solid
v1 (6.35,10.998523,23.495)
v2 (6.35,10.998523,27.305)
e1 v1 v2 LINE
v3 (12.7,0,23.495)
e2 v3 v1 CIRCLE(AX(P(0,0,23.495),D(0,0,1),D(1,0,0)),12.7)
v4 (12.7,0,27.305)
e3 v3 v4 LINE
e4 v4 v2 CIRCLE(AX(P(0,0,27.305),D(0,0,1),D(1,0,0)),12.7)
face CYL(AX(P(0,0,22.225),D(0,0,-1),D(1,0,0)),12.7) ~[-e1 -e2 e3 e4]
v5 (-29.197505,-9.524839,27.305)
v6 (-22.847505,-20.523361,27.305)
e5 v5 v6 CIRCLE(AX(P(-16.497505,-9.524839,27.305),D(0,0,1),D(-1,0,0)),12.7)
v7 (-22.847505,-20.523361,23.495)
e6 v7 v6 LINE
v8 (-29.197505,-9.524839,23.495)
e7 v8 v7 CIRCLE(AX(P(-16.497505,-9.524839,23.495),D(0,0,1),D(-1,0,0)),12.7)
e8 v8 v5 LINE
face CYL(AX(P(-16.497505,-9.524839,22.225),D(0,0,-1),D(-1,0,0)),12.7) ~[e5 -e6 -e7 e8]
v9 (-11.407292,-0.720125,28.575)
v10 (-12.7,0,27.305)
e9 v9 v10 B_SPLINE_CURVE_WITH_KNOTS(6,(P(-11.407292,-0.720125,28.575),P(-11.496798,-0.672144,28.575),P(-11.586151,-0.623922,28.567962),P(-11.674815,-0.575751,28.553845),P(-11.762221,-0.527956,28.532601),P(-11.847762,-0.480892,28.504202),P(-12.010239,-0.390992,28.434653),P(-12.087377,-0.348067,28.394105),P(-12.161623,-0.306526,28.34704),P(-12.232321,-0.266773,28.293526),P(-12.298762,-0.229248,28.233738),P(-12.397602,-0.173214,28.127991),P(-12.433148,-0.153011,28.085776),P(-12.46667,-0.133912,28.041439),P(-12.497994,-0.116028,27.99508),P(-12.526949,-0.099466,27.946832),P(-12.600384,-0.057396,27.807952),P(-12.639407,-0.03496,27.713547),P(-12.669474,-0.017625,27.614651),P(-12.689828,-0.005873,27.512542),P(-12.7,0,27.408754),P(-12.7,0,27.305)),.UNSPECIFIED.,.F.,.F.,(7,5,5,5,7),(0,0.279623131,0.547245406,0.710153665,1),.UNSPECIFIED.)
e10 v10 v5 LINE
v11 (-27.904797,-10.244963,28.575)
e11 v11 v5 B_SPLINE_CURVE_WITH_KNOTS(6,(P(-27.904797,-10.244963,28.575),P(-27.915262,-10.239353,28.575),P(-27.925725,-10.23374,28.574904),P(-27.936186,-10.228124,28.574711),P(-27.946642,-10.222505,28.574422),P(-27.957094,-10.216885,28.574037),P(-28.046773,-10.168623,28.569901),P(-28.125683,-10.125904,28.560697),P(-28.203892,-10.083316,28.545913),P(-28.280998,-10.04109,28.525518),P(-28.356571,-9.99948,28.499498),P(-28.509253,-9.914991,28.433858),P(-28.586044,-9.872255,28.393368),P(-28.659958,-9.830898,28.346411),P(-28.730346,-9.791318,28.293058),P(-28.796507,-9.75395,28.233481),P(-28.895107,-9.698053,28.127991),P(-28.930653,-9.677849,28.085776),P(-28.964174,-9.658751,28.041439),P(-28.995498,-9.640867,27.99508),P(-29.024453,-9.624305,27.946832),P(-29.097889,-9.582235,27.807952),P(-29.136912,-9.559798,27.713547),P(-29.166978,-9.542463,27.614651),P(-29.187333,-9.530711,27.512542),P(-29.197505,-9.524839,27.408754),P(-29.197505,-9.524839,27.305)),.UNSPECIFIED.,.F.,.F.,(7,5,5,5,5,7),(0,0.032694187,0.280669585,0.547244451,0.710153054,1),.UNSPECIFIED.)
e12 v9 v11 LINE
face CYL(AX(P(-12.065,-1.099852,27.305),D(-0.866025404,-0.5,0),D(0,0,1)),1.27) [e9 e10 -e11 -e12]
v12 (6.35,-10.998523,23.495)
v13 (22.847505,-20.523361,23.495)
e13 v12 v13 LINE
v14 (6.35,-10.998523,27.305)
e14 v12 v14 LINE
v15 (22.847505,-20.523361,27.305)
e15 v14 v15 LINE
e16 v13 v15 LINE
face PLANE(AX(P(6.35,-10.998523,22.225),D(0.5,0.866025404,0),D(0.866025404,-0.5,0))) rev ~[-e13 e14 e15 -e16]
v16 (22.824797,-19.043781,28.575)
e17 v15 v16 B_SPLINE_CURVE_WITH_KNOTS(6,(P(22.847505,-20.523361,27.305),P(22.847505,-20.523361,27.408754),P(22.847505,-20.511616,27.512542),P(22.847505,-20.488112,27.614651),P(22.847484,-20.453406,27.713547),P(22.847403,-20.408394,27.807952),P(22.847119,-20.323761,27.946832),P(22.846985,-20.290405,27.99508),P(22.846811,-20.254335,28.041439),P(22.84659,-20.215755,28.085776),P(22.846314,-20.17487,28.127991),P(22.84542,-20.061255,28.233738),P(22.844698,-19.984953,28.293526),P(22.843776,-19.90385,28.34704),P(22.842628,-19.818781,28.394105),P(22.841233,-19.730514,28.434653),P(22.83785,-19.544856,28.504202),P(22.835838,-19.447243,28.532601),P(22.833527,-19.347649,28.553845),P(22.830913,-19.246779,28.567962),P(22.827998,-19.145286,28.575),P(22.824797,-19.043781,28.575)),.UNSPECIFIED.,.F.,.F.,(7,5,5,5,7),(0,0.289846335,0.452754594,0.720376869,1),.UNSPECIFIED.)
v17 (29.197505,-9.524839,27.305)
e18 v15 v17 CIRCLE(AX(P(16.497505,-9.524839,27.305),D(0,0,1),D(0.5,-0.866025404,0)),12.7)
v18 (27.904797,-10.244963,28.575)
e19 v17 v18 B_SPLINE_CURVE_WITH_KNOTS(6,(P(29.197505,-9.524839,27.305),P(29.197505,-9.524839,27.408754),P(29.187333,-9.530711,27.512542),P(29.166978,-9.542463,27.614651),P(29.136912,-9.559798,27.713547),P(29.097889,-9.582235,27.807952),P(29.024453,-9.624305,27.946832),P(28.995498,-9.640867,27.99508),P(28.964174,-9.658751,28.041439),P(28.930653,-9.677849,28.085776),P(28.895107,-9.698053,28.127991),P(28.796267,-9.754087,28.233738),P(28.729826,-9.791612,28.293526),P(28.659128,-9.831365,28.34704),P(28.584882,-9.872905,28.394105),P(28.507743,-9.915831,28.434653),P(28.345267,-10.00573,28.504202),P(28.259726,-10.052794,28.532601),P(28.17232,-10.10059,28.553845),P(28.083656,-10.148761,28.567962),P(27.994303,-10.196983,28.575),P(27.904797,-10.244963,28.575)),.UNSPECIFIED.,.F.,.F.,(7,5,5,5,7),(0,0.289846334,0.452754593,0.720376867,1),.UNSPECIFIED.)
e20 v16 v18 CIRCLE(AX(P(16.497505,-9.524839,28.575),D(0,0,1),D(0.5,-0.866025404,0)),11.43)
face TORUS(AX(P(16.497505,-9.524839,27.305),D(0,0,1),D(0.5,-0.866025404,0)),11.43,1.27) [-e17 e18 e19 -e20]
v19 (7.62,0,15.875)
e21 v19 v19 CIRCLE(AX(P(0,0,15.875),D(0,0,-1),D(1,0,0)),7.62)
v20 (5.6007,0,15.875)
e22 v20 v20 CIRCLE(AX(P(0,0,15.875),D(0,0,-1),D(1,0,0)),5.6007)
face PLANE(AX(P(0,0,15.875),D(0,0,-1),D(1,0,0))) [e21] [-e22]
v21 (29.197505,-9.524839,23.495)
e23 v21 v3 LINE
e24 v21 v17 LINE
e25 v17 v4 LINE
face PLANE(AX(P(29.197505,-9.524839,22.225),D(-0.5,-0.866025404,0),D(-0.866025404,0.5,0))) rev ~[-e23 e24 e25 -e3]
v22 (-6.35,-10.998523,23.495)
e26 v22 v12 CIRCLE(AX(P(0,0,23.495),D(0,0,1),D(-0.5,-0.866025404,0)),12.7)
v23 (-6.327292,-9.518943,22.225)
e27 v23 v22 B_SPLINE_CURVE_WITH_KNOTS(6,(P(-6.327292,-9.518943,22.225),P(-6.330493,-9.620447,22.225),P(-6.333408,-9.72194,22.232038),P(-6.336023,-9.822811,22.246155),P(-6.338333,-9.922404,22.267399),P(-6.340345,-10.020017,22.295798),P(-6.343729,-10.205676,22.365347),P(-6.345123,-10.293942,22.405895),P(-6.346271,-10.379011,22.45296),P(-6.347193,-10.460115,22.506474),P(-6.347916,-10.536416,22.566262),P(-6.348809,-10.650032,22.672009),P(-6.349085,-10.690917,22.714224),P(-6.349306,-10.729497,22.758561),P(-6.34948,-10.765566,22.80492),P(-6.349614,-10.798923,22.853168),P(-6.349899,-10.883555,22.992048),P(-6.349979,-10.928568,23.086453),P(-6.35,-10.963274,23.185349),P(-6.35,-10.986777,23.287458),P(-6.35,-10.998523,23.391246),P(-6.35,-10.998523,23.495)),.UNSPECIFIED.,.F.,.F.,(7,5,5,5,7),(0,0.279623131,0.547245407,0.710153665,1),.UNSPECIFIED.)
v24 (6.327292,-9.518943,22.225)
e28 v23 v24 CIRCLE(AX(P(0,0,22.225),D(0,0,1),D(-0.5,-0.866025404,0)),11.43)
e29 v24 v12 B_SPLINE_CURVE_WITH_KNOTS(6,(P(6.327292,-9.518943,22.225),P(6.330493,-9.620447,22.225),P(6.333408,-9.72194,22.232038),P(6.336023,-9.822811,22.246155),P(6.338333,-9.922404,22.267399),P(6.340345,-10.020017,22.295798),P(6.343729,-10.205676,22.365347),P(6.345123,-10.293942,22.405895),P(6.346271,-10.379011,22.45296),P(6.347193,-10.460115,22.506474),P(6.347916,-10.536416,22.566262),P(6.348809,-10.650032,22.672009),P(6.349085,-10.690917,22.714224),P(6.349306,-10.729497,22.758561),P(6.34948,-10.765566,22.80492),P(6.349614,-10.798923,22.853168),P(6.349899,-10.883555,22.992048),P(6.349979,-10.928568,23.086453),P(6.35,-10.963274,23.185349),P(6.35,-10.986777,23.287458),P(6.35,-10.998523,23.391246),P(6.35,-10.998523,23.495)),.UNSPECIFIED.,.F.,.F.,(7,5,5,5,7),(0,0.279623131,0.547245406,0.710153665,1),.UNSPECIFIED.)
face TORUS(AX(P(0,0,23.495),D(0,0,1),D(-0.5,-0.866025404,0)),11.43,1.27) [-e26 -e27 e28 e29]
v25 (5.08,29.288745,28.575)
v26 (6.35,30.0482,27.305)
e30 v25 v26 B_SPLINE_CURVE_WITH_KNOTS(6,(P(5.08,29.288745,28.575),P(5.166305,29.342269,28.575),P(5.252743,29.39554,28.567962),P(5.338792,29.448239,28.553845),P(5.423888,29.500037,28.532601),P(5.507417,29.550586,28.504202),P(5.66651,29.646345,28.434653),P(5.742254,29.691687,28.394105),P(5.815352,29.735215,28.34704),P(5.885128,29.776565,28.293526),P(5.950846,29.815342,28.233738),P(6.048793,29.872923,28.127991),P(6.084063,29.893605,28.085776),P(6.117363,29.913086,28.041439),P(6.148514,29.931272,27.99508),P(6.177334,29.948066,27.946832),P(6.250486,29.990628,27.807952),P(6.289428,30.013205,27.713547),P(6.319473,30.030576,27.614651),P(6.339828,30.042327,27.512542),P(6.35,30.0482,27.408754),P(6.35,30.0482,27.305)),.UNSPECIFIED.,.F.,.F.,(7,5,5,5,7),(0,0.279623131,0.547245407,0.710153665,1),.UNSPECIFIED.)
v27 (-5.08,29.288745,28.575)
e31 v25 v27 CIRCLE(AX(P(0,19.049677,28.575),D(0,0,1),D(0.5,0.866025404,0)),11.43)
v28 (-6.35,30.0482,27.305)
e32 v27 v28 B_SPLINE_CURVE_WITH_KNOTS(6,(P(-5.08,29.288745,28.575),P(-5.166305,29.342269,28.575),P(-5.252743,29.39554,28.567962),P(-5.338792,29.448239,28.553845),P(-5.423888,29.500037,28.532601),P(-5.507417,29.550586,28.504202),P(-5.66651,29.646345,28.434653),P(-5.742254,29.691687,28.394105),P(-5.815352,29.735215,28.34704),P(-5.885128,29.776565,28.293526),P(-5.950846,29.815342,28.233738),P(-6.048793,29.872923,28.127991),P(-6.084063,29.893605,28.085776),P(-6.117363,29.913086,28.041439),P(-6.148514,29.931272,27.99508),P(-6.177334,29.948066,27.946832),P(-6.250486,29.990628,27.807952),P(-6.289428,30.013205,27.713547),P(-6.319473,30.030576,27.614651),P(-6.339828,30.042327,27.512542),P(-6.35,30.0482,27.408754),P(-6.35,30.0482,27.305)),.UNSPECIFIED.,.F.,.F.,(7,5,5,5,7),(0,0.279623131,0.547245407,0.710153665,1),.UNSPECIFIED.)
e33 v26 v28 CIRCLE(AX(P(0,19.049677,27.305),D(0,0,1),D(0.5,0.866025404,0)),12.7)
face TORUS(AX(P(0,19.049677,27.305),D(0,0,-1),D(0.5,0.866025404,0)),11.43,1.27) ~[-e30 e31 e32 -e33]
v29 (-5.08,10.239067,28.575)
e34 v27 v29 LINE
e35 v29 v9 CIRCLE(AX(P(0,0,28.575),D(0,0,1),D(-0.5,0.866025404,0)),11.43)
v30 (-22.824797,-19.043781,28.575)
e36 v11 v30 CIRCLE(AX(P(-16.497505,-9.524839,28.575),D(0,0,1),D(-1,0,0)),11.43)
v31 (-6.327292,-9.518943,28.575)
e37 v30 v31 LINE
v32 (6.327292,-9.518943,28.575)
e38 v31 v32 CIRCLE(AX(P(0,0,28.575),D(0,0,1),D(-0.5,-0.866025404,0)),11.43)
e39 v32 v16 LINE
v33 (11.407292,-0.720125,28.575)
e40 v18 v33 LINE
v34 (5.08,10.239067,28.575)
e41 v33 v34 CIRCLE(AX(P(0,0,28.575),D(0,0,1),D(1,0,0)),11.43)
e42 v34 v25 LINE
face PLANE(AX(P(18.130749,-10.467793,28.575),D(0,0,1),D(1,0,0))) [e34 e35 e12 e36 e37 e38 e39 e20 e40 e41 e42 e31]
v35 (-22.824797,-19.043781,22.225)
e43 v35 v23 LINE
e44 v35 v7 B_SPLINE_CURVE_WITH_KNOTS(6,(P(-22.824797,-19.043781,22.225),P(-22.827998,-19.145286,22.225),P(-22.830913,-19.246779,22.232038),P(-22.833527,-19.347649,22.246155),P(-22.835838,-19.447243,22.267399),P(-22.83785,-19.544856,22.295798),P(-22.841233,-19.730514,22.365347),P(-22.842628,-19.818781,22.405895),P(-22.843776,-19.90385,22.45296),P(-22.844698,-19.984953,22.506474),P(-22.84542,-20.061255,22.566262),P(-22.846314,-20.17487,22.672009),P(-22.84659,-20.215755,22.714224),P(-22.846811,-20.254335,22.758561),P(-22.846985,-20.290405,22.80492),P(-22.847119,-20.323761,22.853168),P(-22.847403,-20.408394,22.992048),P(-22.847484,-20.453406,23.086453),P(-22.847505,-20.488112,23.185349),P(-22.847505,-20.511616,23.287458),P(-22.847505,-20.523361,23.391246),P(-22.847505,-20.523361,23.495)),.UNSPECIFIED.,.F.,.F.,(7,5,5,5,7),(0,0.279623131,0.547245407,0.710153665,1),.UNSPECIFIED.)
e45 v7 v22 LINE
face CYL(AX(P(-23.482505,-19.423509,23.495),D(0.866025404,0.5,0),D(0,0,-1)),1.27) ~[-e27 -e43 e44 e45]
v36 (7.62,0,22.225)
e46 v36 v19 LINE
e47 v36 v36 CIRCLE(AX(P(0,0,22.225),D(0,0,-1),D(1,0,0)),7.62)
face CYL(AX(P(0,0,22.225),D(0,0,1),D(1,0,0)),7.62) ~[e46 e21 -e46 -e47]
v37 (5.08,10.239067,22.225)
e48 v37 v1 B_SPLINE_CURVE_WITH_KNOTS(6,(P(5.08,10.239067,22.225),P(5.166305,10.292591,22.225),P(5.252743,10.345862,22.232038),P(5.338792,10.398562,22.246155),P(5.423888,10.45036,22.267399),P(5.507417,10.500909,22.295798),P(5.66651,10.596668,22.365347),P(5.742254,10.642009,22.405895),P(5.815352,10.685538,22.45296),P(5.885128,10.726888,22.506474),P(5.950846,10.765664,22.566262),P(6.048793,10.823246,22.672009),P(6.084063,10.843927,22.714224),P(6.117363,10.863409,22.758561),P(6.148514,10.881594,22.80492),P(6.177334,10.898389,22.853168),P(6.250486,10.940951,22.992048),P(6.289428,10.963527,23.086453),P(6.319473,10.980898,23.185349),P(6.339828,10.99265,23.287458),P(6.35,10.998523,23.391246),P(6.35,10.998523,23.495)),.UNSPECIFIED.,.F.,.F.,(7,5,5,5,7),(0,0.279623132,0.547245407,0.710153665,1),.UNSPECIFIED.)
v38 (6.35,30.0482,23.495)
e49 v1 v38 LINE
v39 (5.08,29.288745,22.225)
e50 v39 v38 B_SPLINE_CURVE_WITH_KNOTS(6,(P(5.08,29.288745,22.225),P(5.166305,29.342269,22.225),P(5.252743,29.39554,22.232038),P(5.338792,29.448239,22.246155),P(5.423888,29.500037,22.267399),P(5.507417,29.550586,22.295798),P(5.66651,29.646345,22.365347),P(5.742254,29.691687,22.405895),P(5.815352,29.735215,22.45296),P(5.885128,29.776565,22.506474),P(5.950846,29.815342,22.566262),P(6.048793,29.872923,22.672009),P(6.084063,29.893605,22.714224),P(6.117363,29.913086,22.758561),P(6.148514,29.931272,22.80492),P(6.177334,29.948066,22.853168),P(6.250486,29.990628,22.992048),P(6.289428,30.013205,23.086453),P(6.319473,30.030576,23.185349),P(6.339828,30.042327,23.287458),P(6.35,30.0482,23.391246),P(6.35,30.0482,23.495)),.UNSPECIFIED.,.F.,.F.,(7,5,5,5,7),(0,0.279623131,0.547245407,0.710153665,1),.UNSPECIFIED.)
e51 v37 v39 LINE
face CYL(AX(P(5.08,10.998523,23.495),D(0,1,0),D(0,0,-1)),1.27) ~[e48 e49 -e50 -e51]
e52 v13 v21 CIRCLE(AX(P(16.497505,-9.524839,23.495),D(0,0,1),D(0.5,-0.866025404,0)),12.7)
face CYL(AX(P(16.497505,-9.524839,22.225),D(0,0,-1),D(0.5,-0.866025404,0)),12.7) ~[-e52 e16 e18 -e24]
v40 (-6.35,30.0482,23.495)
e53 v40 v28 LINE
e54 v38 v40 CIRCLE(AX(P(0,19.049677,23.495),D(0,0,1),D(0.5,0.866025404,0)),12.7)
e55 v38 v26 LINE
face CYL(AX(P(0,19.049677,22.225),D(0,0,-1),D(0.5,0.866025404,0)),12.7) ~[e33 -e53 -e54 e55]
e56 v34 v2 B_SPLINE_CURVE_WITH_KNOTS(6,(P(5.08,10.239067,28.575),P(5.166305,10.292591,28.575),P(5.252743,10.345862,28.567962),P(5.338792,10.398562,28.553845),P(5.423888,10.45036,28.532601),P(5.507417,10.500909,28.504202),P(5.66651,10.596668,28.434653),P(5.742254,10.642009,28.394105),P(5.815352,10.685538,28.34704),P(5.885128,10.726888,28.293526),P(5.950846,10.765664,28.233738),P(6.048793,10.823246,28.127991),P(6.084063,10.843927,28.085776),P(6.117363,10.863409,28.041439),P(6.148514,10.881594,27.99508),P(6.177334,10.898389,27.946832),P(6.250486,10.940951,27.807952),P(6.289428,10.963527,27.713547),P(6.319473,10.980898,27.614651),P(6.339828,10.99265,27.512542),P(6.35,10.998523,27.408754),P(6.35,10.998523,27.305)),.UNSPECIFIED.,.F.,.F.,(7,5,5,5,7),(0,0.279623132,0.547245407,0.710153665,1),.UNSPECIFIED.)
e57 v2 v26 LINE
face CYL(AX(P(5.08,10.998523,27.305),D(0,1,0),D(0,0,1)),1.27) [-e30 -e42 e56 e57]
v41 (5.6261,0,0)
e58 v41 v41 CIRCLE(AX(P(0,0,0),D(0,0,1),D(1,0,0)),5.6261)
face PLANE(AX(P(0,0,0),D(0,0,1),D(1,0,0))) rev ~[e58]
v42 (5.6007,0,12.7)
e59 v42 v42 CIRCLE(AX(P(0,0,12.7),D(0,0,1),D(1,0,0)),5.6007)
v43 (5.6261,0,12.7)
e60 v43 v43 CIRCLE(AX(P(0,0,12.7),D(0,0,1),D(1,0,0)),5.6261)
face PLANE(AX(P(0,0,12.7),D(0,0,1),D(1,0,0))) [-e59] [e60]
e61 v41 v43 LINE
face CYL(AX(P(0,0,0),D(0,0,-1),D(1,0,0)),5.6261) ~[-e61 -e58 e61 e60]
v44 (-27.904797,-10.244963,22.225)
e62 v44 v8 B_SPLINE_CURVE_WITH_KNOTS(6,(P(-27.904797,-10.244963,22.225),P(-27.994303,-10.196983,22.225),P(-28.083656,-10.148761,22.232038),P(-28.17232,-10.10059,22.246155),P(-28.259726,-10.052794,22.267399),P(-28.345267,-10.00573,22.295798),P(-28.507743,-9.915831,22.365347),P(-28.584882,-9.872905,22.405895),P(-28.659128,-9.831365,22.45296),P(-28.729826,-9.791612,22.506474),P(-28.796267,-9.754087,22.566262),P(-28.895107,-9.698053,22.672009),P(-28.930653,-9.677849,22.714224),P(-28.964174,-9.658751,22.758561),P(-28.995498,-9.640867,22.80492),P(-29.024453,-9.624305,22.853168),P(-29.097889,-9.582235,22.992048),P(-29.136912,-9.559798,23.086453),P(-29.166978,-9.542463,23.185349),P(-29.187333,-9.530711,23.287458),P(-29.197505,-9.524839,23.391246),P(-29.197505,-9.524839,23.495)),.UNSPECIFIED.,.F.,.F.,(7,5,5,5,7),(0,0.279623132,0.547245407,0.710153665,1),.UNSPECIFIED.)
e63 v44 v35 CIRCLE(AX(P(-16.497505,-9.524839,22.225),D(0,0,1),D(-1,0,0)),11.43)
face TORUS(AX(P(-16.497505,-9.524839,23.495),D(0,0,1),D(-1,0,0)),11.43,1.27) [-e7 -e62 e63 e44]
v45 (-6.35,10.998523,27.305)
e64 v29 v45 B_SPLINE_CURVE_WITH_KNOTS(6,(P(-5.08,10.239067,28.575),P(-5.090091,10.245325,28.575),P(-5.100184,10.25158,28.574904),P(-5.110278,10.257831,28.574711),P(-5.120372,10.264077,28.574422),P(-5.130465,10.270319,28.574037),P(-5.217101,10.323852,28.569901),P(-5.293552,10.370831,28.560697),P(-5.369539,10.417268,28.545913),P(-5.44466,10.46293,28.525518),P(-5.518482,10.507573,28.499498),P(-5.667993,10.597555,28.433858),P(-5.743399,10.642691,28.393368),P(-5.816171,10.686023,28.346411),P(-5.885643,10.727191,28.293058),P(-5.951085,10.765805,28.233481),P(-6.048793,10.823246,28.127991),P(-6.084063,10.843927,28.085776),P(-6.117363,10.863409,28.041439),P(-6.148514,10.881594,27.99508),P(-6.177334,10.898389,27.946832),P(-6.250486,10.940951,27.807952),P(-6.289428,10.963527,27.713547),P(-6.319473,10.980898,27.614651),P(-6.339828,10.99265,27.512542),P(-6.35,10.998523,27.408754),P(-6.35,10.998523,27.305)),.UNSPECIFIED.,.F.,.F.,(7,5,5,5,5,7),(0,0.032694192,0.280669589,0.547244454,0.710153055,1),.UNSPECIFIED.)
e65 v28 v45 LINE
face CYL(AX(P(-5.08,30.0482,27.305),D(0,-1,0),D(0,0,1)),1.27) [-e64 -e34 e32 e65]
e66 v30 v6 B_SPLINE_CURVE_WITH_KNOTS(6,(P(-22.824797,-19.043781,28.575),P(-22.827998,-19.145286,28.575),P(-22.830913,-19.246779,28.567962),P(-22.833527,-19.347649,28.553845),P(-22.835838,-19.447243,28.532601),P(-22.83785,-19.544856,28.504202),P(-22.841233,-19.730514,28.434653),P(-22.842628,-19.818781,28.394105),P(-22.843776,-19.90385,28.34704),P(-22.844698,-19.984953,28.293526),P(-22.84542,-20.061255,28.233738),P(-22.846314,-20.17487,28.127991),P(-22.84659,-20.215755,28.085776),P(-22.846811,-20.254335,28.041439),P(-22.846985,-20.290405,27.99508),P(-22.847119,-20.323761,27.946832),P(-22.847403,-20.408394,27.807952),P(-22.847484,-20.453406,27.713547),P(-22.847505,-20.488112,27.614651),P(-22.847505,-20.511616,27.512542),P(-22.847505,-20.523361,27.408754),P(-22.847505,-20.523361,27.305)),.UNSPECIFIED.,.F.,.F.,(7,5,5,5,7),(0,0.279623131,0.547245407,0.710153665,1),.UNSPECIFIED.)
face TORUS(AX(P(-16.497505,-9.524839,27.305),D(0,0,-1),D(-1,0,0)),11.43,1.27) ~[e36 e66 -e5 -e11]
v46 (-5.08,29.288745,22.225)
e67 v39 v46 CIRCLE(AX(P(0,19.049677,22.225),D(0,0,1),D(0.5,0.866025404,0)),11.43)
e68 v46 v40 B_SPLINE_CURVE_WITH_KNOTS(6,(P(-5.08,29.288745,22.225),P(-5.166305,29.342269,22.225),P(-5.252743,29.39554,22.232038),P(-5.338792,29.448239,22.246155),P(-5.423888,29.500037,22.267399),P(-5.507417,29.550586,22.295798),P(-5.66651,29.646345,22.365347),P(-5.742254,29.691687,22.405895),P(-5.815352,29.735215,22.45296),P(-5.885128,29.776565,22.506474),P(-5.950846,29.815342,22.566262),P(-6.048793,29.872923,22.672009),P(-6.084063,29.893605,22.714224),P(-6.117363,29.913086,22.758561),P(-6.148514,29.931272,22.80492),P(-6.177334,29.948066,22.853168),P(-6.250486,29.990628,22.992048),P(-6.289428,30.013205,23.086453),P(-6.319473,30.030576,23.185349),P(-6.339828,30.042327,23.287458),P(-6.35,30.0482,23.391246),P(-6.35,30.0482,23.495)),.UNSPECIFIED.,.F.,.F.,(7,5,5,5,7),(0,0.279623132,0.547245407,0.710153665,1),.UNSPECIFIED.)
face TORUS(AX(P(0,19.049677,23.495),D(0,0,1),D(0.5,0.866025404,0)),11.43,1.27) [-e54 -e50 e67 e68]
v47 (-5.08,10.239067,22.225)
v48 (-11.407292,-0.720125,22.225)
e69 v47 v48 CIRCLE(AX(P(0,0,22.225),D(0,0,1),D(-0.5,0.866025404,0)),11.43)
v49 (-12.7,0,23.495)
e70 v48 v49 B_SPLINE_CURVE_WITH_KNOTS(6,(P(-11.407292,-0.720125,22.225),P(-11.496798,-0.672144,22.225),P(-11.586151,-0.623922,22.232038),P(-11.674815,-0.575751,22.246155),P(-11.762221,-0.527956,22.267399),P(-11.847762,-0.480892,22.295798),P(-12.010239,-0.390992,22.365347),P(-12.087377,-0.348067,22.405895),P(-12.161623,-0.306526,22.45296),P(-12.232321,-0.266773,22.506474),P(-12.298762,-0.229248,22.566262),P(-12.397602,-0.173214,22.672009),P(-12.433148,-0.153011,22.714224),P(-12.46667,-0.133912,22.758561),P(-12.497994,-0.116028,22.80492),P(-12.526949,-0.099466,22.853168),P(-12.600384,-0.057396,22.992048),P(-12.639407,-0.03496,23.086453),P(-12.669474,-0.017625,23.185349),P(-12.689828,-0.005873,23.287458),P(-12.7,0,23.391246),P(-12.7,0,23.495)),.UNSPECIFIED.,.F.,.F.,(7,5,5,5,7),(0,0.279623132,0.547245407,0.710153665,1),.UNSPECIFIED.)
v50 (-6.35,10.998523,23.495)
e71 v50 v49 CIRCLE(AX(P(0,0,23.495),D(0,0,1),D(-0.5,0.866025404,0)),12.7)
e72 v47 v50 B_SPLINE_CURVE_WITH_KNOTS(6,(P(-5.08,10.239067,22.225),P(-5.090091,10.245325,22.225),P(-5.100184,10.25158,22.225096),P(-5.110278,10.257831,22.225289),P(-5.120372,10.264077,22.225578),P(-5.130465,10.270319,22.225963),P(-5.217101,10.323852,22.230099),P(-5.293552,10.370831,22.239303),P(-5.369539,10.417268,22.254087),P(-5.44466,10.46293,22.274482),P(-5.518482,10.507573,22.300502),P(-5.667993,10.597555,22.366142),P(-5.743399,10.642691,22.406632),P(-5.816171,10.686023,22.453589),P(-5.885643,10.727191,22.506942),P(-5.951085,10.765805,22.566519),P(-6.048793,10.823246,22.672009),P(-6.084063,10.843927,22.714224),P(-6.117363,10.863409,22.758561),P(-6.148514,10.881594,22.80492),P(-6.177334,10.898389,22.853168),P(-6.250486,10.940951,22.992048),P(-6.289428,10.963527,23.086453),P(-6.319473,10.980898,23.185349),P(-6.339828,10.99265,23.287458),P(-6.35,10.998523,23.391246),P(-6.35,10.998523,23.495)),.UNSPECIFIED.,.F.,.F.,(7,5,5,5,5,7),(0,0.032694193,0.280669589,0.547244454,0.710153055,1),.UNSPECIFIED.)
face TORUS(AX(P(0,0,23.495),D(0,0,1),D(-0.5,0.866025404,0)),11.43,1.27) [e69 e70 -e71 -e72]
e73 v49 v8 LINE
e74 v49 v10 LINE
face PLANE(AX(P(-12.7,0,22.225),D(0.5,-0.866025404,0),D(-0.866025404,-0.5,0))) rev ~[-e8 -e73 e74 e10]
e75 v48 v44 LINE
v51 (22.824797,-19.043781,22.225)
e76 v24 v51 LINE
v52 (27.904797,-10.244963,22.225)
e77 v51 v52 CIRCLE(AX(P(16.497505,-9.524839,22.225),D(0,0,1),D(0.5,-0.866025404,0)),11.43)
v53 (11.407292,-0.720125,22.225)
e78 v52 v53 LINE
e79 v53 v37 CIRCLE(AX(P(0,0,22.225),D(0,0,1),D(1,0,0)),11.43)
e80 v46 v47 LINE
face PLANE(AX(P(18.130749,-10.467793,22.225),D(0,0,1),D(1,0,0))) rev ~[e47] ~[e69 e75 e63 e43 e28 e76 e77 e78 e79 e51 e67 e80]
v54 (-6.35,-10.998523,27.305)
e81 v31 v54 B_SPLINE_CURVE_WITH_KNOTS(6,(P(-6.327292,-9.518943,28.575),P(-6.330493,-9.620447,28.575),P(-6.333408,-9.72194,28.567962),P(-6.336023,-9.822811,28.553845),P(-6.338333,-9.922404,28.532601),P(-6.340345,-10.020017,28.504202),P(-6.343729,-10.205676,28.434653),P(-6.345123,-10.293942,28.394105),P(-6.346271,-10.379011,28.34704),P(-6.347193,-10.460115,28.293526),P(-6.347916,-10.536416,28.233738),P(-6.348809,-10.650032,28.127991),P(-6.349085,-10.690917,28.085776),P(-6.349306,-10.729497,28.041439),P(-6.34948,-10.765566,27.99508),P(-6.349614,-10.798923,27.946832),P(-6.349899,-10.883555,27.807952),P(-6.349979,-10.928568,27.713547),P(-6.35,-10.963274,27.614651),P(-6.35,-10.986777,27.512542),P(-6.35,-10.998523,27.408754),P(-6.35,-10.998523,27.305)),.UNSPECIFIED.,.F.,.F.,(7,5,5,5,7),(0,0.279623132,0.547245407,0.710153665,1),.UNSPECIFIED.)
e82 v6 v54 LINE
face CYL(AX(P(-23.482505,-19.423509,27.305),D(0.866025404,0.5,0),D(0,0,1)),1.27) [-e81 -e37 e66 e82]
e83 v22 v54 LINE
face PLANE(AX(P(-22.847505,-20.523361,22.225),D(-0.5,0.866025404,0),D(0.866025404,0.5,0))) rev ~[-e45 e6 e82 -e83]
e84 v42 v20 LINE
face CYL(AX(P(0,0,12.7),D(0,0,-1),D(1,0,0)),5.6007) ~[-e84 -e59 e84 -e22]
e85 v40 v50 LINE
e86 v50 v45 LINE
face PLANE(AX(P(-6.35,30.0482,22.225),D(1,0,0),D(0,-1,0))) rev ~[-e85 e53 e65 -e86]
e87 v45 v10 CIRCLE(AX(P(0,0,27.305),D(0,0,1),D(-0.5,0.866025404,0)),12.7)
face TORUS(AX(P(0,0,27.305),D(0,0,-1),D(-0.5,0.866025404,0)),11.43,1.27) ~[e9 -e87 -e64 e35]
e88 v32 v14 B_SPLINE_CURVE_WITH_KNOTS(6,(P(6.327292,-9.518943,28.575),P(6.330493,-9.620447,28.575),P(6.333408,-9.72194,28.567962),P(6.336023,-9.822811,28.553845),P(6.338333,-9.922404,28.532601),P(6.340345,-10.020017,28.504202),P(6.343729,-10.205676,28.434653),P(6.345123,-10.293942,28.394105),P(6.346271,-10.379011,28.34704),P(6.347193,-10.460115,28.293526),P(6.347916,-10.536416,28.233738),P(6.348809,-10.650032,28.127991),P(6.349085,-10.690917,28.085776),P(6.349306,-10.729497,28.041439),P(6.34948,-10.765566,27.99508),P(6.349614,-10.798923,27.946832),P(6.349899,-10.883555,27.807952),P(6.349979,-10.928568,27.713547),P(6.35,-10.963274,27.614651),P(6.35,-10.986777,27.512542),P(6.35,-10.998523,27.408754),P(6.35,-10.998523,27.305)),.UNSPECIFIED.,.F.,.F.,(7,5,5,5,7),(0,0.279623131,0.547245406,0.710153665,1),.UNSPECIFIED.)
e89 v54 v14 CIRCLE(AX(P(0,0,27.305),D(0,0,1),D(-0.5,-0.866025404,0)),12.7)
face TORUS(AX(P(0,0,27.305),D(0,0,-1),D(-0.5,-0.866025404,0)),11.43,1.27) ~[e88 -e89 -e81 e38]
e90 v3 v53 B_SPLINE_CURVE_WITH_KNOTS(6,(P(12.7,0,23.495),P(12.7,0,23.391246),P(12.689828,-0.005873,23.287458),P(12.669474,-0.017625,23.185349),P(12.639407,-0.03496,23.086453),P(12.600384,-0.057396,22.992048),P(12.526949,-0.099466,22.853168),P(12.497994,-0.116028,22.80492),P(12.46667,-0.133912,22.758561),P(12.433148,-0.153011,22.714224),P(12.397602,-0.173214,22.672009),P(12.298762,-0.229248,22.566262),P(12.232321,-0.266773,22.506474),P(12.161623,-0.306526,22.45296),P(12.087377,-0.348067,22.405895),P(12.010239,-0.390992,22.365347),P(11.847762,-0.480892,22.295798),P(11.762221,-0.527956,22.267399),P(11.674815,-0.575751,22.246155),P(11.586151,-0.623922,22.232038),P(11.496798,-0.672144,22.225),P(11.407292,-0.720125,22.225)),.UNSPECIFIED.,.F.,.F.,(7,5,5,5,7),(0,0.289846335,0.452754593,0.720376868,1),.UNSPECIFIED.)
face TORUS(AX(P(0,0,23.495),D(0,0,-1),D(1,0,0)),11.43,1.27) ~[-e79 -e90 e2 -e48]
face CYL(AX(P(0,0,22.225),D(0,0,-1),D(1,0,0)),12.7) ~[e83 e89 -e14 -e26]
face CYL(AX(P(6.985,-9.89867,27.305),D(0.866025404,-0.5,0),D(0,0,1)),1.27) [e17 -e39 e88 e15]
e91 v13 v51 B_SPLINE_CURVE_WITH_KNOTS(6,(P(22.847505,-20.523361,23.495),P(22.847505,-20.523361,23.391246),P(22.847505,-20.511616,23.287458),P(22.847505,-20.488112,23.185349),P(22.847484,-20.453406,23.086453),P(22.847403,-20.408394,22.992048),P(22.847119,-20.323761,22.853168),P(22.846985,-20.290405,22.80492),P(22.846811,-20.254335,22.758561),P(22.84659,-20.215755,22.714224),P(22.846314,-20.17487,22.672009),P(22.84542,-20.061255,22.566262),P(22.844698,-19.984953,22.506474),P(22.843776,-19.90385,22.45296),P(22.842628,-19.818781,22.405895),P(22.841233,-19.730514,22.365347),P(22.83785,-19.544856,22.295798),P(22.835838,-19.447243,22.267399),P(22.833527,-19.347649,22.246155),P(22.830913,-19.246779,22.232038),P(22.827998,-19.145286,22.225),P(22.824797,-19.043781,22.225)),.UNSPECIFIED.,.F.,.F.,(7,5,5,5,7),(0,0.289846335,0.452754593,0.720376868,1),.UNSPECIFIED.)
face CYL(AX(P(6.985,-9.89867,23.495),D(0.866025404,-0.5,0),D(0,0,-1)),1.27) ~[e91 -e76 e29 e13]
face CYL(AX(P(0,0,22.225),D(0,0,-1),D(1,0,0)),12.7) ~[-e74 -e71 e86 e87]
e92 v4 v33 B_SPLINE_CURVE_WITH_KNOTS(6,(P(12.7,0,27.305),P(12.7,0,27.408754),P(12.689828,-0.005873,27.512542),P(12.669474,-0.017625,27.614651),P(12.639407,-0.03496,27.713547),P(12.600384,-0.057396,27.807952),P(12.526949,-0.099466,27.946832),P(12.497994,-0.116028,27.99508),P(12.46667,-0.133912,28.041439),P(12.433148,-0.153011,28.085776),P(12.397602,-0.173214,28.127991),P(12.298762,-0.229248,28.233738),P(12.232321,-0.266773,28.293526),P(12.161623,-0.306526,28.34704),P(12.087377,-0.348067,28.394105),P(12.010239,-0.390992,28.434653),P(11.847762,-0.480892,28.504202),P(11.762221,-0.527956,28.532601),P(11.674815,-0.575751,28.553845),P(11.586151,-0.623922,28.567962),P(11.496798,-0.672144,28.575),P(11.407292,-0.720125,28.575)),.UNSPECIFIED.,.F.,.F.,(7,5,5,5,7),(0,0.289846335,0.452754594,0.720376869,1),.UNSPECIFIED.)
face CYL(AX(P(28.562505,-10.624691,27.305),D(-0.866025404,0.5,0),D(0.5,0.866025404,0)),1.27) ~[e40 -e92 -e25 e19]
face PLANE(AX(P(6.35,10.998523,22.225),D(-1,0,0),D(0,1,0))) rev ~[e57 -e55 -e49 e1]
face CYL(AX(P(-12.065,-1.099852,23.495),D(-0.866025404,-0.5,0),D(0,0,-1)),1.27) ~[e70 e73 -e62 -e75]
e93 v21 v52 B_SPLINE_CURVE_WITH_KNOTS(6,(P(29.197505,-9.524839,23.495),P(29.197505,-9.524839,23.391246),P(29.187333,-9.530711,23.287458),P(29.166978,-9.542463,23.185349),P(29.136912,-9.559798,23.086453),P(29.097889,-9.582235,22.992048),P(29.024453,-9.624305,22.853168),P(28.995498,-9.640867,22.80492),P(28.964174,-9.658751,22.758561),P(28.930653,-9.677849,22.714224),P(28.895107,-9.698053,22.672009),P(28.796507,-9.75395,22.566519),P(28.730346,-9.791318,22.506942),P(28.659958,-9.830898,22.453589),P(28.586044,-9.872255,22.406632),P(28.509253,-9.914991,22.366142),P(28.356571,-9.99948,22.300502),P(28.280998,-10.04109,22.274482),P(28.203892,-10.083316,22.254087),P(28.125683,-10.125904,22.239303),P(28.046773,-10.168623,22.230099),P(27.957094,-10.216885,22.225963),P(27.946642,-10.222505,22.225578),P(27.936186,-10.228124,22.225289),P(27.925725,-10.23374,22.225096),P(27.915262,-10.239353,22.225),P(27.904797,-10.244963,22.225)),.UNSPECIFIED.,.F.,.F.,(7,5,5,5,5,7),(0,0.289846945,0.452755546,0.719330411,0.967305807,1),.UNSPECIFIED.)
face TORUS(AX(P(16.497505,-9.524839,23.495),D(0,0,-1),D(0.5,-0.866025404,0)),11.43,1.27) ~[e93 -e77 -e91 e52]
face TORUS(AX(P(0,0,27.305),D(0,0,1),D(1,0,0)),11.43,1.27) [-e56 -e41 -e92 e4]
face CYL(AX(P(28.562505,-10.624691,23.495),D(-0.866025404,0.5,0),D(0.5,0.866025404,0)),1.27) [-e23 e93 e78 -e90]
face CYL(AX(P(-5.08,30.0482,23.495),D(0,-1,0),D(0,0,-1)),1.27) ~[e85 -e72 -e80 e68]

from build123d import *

# Parameters (mm, degrees)
F0_R      = 5.6261
F1_DEPTH  = 12.7
F2_R      = 5.6007
F3_DEPTH  = 9.525
F4_R      = 12.7
F4_R_2    = 5.6007
F6_DEPTH  = 6.35
F7_DEPTH  = 6.35
F8_R      = 7.62
F9_DEPTH  = 6.35
F10_DEPTH = 6.35
F11_R     = 1.27


with BuildPart() as f1:
    # F0 (on Top) → F1 (new body)
    with BuildSketch(Plane.XY):
        Circle(F0_R)
    extrude(amount=F1_DEPTH)

    # F2 (on face) → F3 (join)
    with BuildSketch(Plane.XY.offset(12.7)):
        Circle(F2_R)
    extrude(amount=F3_DEPTH)

    # F4 (on face) → F6 (join)
    with BuildSketch(Plane.XY.offset(22.225)):
        Circle(F4_R)
        Circle(F4_R_2, mode=Mode.SUBTRACT)
    extrude(amount=F6_DEPTH)

    # F7 (add): a face of the model
    f7_faces = [f1.faces().sort_by_distance(p)[0] for p in [
        (0, 0, 22.225),
    ]]
    extrude(f7_faces, amount=F7_DEPTH)

    # F8 (on face) → F9 (join)
    with BuildSketch(Plane(origin=(0, 0, 22.225), x_dir=(1, 0, 0), z_dir=(0, 0, -1))):
        Circle(F8_R)
    extrude(amount=F9_DEPTH)

    # F5 (on face) → F10 (join)
    with BuildSketch(Plane.XY.offset(22.225)):
        with BuildLine():
            ThreePointArc((-6.35, -10.9985226281), (-10.9985226281, -6.35), (-12.7, 0))
            Line((-12.7, 0), (-29.197504538, -9.524838686))
            ThreePointArc((-29.197504538, -9.524838686), (-27.4960271661, -15.874838686), (-22.847504538, -20.523361314))
            Line((-22.847504538, -20.523361314), (-6.35, -10.9985226281))
        make_face()
        with BuildLine():
            Line((-6.35, 30.0482), (-6.35, 10.9985226281))
            ThreePointArc((-6.35, 10.9985226281), (0, 12.7), (6.35, 10.9985226281))
            Line((6.35, 10.9985226281), (6.35, 30.0482))
            ThreePointArc((6.35, 30.0482), (0, 31.7496773719), (-6.35, 30.0482))
        make_face()
        with BuildLine():
            Line((29.197504538, -9.524838686), (12.7, 0))
            ThreePointArc((12.7, 0), (10.9985226281, -6.35), (6.35, -10.9985226281))
            Line((6.35, -10.9985226281), (22.847504538, -20.523361314))
            ThreePointArc((22.847504538, -20.523361314), (27.4960271661, -15.874838686), (29.197504538, -9.524838686))
        make_face()
    extrude(amount=F10_DEPTH)

    # F11
    f11_edges = [f1.edges().sort_by_distance(p)[0] for p in [
        (6.35, 20.523361, 28.575),
        (20.948752, -4.762419, 28.575),
        (27.496027, -15.874839, 28.575),
        (14.598752, -15.760942, 28.575),
        (0, 31.749677, 28.575),
        (-6.35, 20.523361, 28.575),
        (-20.948752, -4.762419, 28.575),
        (-14.598752, -15.760942, 28.575),
        (-27.496027, -15.874839, 28.575),
        (-27.496027, -15.874839, 22.225),
        (-20.948752, -4.762419, 22.225),
        (-6.35, 20.523361, 22.225),
        (0, 31.749677, 22.225),
        (6.35, 20.523361, 22.225),
        (20.948752, -4.762419, 22.225),
        (27.496027, -15.874839, 22.225),
        (14.598752, -15.760942, 22.225),
        (-14.598752, -15.760942, 22.225),
        (-10.998523, 6.35, 22.225),
        (0, -12.7, 22.225),
        (10.998523, 6.35, 22.225),
        (10.998523, 6.35, 28.575),
        (-10.998523, 6.35, 28.575),
        (0, -12.7, 28.575),
    ]]
    fillet(f11_edges, radius=F11_R)


solid = f1.part
